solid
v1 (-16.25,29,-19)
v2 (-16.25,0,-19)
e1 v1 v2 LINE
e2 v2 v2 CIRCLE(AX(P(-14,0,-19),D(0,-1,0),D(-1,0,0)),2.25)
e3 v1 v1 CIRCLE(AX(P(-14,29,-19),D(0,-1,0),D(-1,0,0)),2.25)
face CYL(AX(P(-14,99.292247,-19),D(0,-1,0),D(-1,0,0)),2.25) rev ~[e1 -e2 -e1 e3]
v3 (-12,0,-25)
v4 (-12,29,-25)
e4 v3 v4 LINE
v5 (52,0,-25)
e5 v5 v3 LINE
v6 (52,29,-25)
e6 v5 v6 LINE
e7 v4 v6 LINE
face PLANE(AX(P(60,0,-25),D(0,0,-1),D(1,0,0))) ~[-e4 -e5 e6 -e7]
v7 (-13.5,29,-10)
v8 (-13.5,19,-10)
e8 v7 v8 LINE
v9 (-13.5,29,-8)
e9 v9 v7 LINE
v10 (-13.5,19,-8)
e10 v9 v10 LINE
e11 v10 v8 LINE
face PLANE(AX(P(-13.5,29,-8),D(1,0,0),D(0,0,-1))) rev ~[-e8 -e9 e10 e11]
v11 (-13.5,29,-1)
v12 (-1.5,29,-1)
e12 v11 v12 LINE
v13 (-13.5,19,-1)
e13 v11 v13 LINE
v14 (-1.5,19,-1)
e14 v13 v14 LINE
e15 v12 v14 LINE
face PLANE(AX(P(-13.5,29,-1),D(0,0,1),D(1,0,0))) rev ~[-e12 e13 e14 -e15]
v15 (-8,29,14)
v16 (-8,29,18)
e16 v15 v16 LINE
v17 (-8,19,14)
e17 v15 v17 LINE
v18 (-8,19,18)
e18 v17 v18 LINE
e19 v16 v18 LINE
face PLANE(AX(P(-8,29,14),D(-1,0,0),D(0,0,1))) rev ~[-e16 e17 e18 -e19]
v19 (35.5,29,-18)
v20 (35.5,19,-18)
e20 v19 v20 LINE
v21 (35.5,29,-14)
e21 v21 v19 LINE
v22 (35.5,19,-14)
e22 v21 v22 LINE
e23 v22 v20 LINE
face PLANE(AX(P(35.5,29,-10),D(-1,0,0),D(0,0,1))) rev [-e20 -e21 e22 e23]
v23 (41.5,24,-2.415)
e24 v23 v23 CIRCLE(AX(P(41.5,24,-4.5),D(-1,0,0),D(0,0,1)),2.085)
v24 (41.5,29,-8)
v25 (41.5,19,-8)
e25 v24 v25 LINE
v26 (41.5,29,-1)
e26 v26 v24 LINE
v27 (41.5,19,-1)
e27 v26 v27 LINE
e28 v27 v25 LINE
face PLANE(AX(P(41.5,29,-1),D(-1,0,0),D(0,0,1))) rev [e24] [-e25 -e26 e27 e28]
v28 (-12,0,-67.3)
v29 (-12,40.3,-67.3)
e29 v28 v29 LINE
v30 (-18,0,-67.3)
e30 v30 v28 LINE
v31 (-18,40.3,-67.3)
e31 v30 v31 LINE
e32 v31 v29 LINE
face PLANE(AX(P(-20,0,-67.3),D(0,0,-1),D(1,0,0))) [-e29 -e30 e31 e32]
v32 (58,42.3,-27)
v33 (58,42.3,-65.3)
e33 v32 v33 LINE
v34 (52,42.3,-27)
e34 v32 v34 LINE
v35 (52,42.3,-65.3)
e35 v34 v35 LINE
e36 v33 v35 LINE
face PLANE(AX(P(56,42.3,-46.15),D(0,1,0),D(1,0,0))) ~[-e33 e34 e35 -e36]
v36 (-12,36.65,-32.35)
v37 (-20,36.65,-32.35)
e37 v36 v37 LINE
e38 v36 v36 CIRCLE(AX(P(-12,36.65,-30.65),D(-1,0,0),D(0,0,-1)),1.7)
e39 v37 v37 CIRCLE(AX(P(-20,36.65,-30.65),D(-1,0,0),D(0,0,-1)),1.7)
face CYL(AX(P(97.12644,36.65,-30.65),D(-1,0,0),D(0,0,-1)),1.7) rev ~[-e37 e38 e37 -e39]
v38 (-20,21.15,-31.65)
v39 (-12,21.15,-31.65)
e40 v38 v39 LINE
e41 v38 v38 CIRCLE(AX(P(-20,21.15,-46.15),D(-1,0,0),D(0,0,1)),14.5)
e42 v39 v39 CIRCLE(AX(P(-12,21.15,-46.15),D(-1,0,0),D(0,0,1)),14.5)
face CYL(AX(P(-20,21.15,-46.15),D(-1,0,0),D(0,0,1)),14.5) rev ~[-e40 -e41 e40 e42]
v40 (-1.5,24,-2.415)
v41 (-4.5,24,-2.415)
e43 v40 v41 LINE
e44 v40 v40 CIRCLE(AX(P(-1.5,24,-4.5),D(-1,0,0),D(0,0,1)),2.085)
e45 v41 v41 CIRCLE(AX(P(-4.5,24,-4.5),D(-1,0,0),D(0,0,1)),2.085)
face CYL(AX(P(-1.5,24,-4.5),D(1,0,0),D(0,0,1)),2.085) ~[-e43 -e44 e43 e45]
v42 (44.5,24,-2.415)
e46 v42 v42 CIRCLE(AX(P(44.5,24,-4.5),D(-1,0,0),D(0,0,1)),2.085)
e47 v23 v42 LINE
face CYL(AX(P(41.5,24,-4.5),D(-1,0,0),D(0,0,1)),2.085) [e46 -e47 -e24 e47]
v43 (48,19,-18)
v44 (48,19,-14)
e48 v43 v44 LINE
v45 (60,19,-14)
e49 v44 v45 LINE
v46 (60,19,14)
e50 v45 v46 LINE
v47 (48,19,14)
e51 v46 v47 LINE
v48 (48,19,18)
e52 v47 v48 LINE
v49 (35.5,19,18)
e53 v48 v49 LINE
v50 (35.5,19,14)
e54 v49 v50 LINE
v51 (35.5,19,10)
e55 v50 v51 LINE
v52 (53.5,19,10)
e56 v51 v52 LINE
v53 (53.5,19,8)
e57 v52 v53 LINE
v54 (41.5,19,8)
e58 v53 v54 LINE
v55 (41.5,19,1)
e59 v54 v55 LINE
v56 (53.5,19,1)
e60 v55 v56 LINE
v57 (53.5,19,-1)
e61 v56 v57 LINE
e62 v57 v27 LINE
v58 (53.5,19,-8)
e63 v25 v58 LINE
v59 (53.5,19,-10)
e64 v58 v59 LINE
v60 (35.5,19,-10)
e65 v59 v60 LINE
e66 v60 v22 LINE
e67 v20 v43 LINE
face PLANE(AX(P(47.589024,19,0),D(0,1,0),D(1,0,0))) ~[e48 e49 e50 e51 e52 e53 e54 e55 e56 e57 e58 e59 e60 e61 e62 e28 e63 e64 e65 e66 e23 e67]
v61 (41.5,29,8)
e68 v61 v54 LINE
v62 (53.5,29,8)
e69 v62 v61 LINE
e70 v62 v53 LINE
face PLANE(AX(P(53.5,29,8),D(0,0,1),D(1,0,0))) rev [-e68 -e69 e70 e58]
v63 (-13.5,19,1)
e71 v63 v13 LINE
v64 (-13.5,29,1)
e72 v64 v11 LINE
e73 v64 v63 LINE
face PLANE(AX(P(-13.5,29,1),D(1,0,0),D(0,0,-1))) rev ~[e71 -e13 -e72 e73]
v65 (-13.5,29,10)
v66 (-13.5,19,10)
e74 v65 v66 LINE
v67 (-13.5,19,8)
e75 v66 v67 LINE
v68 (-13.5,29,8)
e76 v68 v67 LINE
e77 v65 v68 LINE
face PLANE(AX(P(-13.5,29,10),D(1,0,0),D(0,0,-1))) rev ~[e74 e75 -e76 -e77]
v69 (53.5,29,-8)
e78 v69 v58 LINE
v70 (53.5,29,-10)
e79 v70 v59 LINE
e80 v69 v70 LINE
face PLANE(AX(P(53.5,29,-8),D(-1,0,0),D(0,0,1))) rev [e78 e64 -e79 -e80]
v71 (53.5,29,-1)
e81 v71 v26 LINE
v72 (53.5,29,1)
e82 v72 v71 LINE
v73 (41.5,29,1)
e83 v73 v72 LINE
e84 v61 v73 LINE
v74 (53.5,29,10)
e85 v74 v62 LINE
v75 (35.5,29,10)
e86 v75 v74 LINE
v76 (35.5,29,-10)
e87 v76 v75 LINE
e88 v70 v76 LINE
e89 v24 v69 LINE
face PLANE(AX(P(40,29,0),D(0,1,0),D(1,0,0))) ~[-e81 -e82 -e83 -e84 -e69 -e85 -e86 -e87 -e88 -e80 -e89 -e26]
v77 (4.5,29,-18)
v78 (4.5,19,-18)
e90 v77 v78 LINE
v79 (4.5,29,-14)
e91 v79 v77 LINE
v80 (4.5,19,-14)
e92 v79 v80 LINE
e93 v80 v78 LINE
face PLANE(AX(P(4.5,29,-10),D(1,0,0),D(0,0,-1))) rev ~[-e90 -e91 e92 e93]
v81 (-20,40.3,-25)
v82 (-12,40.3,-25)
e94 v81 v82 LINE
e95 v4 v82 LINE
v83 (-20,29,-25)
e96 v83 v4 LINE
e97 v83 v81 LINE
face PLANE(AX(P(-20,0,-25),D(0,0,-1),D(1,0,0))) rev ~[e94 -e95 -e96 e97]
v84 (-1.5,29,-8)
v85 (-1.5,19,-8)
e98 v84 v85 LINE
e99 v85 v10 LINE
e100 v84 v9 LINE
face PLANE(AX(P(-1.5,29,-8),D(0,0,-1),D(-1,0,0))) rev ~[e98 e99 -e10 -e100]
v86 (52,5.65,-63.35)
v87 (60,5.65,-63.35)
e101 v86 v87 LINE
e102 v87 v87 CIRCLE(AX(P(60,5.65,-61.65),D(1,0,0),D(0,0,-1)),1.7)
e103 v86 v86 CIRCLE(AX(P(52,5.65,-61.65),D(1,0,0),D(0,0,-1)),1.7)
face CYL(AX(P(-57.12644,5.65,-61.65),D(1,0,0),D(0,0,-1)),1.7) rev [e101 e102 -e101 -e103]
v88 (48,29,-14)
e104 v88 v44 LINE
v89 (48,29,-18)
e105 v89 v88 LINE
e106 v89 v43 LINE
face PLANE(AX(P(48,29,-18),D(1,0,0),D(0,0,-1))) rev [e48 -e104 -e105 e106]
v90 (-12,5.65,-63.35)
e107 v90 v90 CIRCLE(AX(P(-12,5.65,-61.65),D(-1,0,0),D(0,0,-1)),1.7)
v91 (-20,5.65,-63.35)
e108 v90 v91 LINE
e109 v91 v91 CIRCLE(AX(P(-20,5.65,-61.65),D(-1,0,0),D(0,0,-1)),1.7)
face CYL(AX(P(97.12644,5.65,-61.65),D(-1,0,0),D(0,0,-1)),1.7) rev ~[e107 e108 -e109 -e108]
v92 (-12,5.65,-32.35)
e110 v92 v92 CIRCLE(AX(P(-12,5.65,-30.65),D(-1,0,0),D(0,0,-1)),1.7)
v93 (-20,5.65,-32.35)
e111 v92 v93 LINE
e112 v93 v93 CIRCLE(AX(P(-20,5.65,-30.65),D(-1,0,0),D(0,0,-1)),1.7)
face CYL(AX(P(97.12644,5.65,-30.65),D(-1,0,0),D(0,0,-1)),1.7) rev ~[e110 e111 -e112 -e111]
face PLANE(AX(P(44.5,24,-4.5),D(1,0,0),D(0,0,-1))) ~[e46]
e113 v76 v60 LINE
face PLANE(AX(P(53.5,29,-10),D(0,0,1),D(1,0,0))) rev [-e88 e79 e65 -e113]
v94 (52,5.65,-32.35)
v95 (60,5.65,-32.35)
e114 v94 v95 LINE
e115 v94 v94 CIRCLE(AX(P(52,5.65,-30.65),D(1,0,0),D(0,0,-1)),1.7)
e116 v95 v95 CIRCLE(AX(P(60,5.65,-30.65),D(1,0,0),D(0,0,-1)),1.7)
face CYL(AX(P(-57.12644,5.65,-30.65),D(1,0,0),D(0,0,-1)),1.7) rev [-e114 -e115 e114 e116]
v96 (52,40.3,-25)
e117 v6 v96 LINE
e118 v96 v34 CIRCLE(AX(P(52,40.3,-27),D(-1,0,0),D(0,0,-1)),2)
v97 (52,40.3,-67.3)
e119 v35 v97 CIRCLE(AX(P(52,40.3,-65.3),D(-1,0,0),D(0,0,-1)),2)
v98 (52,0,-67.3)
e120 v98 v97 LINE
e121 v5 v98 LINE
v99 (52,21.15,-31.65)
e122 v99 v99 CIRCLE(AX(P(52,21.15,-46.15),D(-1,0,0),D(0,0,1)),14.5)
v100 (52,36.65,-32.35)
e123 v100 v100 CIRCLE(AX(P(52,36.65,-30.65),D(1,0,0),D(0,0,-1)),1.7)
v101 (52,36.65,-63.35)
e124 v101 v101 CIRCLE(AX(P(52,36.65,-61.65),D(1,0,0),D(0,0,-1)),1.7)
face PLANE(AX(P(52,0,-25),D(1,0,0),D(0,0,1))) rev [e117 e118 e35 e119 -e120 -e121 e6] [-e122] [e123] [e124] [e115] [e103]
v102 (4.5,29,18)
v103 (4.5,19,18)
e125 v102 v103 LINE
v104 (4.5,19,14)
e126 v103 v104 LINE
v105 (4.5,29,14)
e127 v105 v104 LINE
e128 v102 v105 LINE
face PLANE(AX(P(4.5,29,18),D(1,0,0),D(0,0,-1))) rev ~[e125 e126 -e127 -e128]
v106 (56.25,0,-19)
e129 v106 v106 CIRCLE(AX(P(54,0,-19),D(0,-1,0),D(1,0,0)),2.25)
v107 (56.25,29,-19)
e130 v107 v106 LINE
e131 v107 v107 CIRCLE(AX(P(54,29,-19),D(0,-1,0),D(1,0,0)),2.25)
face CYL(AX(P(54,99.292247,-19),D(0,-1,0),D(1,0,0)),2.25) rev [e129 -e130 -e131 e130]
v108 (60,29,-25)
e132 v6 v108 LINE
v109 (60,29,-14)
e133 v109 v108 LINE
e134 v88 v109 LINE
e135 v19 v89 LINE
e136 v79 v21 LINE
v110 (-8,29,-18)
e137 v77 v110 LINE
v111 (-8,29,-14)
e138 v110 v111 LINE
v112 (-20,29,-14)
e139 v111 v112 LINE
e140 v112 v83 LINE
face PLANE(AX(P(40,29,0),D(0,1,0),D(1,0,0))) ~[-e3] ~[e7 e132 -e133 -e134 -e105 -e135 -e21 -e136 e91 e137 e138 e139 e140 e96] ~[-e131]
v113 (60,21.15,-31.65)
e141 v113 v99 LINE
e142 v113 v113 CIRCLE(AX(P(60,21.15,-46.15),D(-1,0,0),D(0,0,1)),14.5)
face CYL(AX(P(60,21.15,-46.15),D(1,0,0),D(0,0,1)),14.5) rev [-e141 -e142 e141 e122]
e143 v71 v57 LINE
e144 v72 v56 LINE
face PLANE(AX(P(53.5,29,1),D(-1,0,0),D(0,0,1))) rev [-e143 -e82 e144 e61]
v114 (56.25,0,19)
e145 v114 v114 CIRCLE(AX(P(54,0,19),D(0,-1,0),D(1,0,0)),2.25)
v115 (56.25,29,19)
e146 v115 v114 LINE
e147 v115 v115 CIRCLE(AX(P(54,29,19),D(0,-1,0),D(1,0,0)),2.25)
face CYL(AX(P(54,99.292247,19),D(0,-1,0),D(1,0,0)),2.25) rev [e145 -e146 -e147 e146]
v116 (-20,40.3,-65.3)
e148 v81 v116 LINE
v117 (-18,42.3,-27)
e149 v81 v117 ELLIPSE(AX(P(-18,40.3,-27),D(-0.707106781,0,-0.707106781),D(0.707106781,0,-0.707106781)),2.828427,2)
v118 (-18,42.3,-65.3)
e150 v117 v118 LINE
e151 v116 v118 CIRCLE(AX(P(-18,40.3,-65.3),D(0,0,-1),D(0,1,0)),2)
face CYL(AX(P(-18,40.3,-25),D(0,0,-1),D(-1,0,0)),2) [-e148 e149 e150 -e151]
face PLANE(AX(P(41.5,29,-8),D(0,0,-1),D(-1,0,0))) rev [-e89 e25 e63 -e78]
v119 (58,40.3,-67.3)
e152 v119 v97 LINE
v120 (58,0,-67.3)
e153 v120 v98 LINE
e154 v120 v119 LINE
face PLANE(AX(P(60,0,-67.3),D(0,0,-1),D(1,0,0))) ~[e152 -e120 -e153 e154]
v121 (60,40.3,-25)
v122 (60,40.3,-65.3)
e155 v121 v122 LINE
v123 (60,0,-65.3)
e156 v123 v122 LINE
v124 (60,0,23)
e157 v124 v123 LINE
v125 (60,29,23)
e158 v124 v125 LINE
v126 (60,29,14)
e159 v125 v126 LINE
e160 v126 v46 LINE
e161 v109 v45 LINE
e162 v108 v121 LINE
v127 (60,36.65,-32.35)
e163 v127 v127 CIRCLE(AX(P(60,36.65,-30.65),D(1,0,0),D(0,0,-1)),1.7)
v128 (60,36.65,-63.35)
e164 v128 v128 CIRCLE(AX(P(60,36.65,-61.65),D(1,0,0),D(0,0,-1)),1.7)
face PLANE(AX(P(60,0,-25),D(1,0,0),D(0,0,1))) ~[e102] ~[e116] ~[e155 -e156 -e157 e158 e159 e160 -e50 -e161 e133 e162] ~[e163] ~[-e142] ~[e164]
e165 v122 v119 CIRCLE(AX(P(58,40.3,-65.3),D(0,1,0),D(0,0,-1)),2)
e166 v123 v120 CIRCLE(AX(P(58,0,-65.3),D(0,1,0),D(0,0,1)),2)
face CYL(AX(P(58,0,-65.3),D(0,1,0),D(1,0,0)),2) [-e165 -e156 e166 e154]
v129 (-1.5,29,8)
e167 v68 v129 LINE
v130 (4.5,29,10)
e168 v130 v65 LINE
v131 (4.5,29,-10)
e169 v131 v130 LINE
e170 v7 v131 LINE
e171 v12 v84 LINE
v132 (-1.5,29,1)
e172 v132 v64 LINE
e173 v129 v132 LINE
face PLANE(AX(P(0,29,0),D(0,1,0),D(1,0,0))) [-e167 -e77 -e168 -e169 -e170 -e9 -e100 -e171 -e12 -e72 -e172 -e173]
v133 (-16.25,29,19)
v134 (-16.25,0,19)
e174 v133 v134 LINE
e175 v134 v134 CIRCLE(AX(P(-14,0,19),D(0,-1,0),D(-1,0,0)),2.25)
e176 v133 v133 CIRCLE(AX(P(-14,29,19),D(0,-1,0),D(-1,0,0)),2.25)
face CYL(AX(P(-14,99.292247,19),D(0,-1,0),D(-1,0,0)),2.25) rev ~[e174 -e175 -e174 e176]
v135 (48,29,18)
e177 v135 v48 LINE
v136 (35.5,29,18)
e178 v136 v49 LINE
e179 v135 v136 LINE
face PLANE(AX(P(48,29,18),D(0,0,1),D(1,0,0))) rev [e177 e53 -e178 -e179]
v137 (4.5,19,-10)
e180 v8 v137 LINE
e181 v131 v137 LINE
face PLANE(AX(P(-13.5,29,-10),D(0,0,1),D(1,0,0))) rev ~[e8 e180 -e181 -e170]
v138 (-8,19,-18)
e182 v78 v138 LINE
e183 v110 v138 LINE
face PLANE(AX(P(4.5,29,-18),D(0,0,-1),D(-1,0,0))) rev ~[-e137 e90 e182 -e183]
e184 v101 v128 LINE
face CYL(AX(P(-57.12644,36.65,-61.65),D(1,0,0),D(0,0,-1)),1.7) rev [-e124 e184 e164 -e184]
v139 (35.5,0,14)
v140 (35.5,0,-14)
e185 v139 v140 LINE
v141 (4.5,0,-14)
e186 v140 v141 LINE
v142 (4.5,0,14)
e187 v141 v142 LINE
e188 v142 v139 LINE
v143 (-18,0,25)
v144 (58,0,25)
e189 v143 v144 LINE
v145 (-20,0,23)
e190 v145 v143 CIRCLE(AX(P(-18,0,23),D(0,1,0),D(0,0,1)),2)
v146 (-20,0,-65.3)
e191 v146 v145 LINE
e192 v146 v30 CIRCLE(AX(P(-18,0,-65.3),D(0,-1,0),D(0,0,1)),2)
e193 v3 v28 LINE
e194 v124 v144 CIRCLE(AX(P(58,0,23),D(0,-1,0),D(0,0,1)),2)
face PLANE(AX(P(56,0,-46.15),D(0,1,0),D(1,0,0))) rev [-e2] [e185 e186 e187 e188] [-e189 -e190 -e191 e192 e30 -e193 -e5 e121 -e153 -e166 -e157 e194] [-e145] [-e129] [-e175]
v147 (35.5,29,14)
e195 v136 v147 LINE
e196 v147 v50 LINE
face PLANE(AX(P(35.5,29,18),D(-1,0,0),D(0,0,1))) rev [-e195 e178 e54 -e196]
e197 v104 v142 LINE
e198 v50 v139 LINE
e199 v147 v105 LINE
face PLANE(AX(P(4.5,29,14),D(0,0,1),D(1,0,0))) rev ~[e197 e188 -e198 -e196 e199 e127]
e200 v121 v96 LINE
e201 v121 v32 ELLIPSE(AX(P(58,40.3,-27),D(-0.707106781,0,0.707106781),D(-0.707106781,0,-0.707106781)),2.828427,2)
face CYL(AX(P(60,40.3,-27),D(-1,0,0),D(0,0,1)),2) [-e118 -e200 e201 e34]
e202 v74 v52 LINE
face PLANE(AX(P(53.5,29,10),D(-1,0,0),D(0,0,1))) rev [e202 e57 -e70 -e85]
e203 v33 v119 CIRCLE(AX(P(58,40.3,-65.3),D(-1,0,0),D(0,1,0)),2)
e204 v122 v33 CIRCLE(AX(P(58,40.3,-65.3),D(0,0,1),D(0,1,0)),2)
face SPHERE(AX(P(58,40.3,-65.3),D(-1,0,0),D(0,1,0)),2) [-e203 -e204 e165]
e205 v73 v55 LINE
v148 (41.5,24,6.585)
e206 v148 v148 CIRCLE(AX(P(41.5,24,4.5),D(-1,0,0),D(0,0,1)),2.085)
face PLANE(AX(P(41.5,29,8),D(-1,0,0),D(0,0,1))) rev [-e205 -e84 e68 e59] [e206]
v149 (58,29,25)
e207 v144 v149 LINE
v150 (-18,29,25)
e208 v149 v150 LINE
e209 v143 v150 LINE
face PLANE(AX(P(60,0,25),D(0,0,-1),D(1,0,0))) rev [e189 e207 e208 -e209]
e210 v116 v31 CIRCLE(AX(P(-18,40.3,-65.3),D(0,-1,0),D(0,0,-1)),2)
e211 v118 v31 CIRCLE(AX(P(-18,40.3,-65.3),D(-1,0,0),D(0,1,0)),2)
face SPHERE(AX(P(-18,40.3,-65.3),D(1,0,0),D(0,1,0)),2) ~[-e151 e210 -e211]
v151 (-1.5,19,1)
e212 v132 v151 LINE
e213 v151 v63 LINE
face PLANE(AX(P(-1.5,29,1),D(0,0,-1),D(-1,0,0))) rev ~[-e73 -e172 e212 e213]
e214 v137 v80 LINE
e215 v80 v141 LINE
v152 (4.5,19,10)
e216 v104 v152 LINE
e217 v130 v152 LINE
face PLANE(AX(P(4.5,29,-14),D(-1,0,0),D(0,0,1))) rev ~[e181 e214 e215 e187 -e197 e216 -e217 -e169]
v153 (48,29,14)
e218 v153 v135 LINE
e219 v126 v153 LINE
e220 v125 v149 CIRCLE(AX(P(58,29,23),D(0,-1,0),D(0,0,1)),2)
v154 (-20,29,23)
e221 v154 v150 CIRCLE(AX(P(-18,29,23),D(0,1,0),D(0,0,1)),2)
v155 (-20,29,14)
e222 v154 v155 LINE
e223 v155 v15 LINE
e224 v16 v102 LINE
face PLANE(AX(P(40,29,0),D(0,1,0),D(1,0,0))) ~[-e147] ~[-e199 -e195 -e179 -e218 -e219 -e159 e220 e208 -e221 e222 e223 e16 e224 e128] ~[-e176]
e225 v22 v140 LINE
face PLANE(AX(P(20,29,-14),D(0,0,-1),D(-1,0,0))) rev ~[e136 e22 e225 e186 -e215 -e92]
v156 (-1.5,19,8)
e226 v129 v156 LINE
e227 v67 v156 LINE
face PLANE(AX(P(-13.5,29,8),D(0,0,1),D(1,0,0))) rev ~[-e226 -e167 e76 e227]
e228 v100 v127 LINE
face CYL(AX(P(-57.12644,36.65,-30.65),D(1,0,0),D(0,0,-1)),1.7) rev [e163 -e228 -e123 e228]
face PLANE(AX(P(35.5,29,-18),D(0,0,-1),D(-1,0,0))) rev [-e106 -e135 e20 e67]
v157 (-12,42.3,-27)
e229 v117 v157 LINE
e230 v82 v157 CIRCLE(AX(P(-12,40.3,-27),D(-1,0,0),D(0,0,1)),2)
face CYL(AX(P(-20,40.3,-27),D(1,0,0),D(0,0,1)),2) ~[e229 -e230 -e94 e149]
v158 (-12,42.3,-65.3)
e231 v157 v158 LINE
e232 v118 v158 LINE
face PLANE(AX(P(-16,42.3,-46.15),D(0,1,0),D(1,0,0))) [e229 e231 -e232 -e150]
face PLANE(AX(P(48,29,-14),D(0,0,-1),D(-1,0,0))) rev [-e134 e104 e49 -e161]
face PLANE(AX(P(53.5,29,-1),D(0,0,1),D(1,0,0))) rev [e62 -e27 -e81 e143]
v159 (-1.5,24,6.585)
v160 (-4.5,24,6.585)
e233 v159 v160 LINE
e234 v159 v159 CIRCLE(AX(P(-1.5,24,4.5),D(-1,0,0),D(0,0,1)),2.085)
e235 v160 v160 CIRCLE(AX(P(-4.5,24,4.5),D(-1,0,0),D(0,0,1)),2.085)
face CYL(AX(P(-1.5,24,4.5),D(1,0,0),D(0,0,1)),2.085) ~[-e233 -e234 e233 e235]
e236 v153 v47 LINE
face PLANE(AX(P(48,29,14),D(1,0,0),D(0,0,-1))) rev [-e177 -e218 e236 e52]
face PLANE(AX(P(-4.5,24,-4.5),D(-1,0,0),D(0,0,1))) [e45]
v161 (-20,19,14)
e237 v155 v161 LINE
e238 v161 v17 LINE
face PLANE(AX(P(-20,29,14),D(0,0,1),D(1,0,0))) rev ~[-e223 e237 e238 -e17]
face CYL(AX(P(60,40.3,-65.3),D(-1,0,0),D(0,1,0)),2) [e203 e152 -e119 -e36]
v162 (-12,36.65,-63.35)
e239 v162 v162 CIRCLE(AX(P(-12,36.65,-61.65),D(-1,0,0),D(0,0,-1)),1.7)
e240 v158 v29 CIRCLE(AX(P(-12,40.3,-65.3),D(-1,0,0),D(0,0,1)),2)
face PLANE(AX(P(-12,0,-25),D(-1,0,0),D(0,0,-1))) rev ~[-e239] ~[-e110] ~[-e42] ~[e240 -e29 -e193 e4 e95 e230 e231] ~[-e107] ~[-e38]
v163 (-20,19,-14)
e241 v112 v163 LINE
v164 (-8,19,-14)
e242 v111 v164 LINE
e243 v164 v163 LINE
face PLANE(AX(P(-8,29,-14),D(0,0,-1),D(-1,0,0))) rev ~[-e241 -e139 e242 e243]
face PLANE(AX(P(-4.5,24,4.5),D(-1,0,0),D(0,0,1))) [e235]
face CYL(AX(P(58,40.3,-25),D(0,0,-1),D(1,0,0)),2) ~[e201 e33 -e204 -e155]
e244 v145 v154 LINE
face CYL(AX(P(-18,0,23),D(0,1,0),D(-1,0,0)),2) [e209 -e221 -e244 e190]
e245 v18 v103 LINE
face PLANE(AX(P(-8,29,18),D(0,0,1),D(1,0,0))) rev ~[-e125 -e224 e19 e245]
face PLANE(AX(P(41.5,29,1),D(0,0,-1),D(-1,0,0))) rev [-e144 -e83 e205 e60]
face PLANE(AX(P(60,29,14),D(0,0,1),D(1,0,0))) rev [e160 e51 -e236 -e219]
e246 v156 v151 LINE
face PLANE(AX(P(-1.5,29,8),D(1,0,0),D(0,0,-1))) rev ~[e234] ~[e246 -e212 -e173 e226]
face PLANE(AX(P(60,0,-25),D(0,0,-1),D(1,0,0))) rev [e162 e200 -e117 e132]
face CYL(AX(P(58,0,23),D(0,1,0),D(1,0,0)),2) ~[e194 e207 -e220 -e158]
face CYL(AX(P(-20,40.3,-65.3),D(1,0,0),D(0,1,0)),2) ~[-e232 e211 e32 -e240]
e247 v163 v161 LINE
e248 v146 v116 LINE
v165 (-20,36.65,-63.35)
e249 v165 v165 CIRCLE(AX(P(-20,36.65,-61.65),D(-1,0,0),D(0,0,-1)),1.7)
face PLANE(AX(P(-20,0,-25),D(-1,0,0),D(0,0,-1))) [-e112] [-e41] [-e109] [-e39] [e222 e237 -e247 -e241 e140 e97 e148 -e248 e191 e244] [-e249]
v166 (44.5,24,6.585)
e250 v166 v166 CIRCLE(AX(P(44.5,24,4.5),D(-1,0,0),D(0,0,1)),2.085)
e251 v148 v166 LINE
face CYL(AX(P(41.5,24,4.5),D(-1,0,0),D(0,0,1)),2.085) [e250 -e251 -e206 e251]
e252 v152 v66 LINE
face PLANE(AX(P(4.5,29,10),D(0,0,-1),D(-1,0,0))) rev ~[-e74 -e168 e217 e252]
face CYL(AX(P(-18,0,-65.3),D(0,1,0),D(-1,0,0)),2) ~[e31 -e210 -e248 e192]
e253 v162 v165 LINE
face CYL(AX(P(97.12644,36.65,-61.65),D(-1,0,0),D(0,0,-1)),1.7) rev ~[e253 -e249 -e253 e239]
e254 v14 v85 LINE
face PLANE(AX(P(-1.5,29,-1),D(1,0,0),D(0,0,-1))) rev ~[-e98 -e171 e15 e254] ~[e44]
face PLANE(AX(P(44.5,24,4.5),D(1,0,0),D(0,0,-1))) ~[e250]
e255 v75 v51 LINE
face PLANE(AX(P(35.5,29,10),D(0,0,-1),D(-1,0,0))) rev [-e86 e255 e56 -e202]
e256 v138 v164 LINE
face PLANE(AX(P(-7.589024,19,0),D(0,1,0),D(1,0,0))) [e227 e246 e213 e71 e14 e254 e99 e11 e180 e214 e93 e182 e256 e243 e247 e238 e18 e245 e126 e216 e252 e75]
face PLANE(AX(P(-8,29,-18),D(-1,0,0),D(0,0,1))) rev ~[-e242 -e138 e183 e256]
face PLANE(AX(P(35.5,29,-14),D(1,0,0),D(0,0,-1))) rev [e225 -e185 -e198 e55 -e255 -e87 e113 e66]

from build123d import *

# Parameters (mm, degrees)
SKETCH2_W            = 40
SKETCH2_H            = 50
BOSS_EXTRUDE1_DEPTH  = 29
CUT_EXTRUDE2_DEPTH   = 10
SKETCH6_R            = 2.085
BOSS_EXTRUDE2_DEPTH  = 3
CUT_EXTRUDE3_DEPTH   = 44.197222133
M4_CLEARANCE_HOLE2_D = 4.5
SKETCH2_3_W          = 8
SKETCH2_3_H          = 42.3
BOSS_EXTRUDE3_DEPTH  = 42.3
CUT_EXTRUDE4_REACH   = 90.986
SKETCH15_R           = 14.5
M3_CLEARANCE_HOLE1_D = 3.4
FILLET1_R            = 2
FILLET1_OF_MIRROR1_R = 2


with BuildPart() as part:
    # Sketch2 → Boss-Extrude1 (new body)
    with BuildSketch(Plane(origin=(0, 0, 0), x_dir=(1, 0, 0), z_dir=(0, 1, 0))):
        Rectangle(SKETCH2_W, SKETCH2_H)
    boss_extrude1 = extrude(amount=BOSS_EXTRUDE1_DEPTH)

    # Sketch3 → Cut-Extrude2 (cut)
    with BuildSketch(Plane(origin=(0, 29, 0), x_dir=(1, 0, 0), z_dir=(0, 1, 0))):
        Polygon((-8, 14), (-20, 14), (-20, -14), (-8, -14), (-8, -18), (4.5, -18), (4.5, -14), (4.5, -10), (-13.5, -10), (-13.5, -8), (-1.5, -8), (-1.5, -1), (-13.5, -1), (-13.5, 1), (-1.5, 1), (-1.5, 8), (-13.5, 8), (-13.5, 10), (4.5, 10), (4.5, 14), (4.5, 18), (-8, 18), align=None)
    cut_extrude2 = extrude(amount=-CUT_EXTRUDE2_DEPTH, mode=Mode.SUBTRACT)

    # Sketch6 → Boss-Extrude2 (add)
    with BuildSketch(Plane.ZY.offset(1.5)):
        with Locations((-4.5, 24)):
            Circle(SKETCH6_R)
        with Locations((4.5, 24)):
            Circle(SKETCH6_R)
    boss_extrude2 = extrude(amount=BOSS_EXTRUDE2_DEPTH)

    # Sketch3<4> → Cut-Extrude3 (cut, through all)
    with BuildSketch(Plane(origin=(0, 29, 0), x_dir=(1, 0, 0), z_dir=(0, 1, 0))):
        Polygon((20, -14), (20, 14), (4.5, 14), (4.5, 10), (4.5, -10), (4.5, -14), align=None)
    cut_extrude3 = extrude(amount=-CUT_EXTRUDE3_DEPTH, mode=Mode.SUBTRACT)

    # M4 Clearance Hole2 (through all)
    with Locations(Plane(origin=(0, 29, 0), x_dir=(1, 0, 0), z_dir=(0, 1, 0))):
        with Locations((-14, -19), (-14, 19)):
            m4_clearance_hole2 = Hole(M4_CLEARANCE_HOLE2_D / 2)

    # Sketch2<3> → Boss-Extrude3 (add)
    with BuildSketch(Plane(origin=(0, 0, 0), x_dir=(1, 0, 0), z_dir=(0, 1, 0))):
        with Locations((-16, 46.15)):
            Rectangle(SKETCH2_3_W, SKETCH2_3_H)
    boss_extrude3 = extrude(amount=BOSS_EXTRUDE3_DEPTH)

    # Sketch15 → Cut-Extrude4 (cut, up to next)
    with BuildSketch(Plane.ZY.offset(20), mode=Mode.PRIVATE) as cut_extrude4_sk1:
        with Locations((-46.15, 21.15)):
            Circle(SKETCH15_R)
    cut_extrude4_tool1 = extrude(cut_extrude4_sk1.sketch, amount=-CUT_EXTRUDE4_REACH, mode=Mode.PRIVATE) & part.part
    cut_extrude4 = cut_extrude4_tool1.solids().sort_by_distance((-20, 21.15, -46.15))[0]
    add(cut_extrude4, mode=Mode.SUBTRACT)

    # M3 Clearance Hole1 (through all)
    with Locations(Plane(origin=(-12, 0, 0), x_dir=(0, 0, 1), z_dir=(1, 0, 0))):
        with Locations((-61.65, -36.65), (-30.65, -36.65), (-61.65, -5.65), (-30.65, -5.65)):
            m3_clearance_hole1 = Hole(M3_CLEARANCE_HOLE1_D / 2)

    # Fillet1
    fillet1_edges = [part.edges().sort_by_distance(p)[0] for p in [
        (-16, 42.3, -67.3),
        (-20, 42.3, -46.15),
        (-20, 21.15, -67.3),
        (-16, 42.3, -25),
        (-20, 14.5, 25),
    ]]
    fillet(fillet1_edges, radius=FILLET1_R)

    # Mirror1: Boss-Extrude1, Cut-Extrude2, Boss-Extrude2, Cut-Extrude3, M4 Clearance Hole2, Boss-Extrude3, Cut-Extrude4, M3 Clearance Hole1 across plane
    add(boss_extrude1.mirror(Plane(origin=(20, 0, 0), x_dir=(0, 0, 1), z_dir=(1, 0, 0))))
    add(cut_extrude2.mirror(Plane(origin=(20, 0, 0), x_dir=(0, 0, 1), z_dir=(1, 0, 0))), mode=Mode.SUBTRACT)
    add(boss_extrude2.mirror(Plane(origin=(20, 0, 0), x_dir=(0, 0, 1), z_dir=(1, 0, 0))))
    add(cut_extrude3.mirror(Plane(origin=(20, 0, 0), x_dir=(0, 0, 1), z_dir=(1, 0, 0))), mode=Mode.SUBTRACT)
    add(m4_clearance_hole2.mirror(Plane(origin=(20, 0, 0), x_dir=(0, 0, 1), z_dir=(1, 0, 0))), mode=Mode.SUBTRACT)
    add(boss_extrude3.mirror(Plane(origin=(20, 0, 0), x_dir=(0, 0, 1), z_dir=(1, 0, 0))))
    add(cut_extrude4.mirror(Plane(origin=(20, 0, 0), x_dir=(0, 0, 1), z_dir=(1, 0, 0))), mode=Mode.SUBTRACT)
    add(m3_clearance_hole1.mirror(Plane(origin=(20, 0, 0), x_dir=(0, 0, 1), z_dir=(1, 0, 0))), mode=Mode.SUBTRACT)

    # Fillet1 of Mirror1
    fillet1_of_mirror1_edges = [part.edges().sort_by_distance(p)[0] for p in [
        (56, 42.3, -67.3),
        (60, 42.3, -46.15),
        (60, 21.15, -67.3),
        (56, 42.3, -25),
        (60, 14.5, 25),
    ]]
    fillet(fillet1_of_mirror1_edges, radius=FILLET1_OF_MIRROR1_R)


solid = part.part
